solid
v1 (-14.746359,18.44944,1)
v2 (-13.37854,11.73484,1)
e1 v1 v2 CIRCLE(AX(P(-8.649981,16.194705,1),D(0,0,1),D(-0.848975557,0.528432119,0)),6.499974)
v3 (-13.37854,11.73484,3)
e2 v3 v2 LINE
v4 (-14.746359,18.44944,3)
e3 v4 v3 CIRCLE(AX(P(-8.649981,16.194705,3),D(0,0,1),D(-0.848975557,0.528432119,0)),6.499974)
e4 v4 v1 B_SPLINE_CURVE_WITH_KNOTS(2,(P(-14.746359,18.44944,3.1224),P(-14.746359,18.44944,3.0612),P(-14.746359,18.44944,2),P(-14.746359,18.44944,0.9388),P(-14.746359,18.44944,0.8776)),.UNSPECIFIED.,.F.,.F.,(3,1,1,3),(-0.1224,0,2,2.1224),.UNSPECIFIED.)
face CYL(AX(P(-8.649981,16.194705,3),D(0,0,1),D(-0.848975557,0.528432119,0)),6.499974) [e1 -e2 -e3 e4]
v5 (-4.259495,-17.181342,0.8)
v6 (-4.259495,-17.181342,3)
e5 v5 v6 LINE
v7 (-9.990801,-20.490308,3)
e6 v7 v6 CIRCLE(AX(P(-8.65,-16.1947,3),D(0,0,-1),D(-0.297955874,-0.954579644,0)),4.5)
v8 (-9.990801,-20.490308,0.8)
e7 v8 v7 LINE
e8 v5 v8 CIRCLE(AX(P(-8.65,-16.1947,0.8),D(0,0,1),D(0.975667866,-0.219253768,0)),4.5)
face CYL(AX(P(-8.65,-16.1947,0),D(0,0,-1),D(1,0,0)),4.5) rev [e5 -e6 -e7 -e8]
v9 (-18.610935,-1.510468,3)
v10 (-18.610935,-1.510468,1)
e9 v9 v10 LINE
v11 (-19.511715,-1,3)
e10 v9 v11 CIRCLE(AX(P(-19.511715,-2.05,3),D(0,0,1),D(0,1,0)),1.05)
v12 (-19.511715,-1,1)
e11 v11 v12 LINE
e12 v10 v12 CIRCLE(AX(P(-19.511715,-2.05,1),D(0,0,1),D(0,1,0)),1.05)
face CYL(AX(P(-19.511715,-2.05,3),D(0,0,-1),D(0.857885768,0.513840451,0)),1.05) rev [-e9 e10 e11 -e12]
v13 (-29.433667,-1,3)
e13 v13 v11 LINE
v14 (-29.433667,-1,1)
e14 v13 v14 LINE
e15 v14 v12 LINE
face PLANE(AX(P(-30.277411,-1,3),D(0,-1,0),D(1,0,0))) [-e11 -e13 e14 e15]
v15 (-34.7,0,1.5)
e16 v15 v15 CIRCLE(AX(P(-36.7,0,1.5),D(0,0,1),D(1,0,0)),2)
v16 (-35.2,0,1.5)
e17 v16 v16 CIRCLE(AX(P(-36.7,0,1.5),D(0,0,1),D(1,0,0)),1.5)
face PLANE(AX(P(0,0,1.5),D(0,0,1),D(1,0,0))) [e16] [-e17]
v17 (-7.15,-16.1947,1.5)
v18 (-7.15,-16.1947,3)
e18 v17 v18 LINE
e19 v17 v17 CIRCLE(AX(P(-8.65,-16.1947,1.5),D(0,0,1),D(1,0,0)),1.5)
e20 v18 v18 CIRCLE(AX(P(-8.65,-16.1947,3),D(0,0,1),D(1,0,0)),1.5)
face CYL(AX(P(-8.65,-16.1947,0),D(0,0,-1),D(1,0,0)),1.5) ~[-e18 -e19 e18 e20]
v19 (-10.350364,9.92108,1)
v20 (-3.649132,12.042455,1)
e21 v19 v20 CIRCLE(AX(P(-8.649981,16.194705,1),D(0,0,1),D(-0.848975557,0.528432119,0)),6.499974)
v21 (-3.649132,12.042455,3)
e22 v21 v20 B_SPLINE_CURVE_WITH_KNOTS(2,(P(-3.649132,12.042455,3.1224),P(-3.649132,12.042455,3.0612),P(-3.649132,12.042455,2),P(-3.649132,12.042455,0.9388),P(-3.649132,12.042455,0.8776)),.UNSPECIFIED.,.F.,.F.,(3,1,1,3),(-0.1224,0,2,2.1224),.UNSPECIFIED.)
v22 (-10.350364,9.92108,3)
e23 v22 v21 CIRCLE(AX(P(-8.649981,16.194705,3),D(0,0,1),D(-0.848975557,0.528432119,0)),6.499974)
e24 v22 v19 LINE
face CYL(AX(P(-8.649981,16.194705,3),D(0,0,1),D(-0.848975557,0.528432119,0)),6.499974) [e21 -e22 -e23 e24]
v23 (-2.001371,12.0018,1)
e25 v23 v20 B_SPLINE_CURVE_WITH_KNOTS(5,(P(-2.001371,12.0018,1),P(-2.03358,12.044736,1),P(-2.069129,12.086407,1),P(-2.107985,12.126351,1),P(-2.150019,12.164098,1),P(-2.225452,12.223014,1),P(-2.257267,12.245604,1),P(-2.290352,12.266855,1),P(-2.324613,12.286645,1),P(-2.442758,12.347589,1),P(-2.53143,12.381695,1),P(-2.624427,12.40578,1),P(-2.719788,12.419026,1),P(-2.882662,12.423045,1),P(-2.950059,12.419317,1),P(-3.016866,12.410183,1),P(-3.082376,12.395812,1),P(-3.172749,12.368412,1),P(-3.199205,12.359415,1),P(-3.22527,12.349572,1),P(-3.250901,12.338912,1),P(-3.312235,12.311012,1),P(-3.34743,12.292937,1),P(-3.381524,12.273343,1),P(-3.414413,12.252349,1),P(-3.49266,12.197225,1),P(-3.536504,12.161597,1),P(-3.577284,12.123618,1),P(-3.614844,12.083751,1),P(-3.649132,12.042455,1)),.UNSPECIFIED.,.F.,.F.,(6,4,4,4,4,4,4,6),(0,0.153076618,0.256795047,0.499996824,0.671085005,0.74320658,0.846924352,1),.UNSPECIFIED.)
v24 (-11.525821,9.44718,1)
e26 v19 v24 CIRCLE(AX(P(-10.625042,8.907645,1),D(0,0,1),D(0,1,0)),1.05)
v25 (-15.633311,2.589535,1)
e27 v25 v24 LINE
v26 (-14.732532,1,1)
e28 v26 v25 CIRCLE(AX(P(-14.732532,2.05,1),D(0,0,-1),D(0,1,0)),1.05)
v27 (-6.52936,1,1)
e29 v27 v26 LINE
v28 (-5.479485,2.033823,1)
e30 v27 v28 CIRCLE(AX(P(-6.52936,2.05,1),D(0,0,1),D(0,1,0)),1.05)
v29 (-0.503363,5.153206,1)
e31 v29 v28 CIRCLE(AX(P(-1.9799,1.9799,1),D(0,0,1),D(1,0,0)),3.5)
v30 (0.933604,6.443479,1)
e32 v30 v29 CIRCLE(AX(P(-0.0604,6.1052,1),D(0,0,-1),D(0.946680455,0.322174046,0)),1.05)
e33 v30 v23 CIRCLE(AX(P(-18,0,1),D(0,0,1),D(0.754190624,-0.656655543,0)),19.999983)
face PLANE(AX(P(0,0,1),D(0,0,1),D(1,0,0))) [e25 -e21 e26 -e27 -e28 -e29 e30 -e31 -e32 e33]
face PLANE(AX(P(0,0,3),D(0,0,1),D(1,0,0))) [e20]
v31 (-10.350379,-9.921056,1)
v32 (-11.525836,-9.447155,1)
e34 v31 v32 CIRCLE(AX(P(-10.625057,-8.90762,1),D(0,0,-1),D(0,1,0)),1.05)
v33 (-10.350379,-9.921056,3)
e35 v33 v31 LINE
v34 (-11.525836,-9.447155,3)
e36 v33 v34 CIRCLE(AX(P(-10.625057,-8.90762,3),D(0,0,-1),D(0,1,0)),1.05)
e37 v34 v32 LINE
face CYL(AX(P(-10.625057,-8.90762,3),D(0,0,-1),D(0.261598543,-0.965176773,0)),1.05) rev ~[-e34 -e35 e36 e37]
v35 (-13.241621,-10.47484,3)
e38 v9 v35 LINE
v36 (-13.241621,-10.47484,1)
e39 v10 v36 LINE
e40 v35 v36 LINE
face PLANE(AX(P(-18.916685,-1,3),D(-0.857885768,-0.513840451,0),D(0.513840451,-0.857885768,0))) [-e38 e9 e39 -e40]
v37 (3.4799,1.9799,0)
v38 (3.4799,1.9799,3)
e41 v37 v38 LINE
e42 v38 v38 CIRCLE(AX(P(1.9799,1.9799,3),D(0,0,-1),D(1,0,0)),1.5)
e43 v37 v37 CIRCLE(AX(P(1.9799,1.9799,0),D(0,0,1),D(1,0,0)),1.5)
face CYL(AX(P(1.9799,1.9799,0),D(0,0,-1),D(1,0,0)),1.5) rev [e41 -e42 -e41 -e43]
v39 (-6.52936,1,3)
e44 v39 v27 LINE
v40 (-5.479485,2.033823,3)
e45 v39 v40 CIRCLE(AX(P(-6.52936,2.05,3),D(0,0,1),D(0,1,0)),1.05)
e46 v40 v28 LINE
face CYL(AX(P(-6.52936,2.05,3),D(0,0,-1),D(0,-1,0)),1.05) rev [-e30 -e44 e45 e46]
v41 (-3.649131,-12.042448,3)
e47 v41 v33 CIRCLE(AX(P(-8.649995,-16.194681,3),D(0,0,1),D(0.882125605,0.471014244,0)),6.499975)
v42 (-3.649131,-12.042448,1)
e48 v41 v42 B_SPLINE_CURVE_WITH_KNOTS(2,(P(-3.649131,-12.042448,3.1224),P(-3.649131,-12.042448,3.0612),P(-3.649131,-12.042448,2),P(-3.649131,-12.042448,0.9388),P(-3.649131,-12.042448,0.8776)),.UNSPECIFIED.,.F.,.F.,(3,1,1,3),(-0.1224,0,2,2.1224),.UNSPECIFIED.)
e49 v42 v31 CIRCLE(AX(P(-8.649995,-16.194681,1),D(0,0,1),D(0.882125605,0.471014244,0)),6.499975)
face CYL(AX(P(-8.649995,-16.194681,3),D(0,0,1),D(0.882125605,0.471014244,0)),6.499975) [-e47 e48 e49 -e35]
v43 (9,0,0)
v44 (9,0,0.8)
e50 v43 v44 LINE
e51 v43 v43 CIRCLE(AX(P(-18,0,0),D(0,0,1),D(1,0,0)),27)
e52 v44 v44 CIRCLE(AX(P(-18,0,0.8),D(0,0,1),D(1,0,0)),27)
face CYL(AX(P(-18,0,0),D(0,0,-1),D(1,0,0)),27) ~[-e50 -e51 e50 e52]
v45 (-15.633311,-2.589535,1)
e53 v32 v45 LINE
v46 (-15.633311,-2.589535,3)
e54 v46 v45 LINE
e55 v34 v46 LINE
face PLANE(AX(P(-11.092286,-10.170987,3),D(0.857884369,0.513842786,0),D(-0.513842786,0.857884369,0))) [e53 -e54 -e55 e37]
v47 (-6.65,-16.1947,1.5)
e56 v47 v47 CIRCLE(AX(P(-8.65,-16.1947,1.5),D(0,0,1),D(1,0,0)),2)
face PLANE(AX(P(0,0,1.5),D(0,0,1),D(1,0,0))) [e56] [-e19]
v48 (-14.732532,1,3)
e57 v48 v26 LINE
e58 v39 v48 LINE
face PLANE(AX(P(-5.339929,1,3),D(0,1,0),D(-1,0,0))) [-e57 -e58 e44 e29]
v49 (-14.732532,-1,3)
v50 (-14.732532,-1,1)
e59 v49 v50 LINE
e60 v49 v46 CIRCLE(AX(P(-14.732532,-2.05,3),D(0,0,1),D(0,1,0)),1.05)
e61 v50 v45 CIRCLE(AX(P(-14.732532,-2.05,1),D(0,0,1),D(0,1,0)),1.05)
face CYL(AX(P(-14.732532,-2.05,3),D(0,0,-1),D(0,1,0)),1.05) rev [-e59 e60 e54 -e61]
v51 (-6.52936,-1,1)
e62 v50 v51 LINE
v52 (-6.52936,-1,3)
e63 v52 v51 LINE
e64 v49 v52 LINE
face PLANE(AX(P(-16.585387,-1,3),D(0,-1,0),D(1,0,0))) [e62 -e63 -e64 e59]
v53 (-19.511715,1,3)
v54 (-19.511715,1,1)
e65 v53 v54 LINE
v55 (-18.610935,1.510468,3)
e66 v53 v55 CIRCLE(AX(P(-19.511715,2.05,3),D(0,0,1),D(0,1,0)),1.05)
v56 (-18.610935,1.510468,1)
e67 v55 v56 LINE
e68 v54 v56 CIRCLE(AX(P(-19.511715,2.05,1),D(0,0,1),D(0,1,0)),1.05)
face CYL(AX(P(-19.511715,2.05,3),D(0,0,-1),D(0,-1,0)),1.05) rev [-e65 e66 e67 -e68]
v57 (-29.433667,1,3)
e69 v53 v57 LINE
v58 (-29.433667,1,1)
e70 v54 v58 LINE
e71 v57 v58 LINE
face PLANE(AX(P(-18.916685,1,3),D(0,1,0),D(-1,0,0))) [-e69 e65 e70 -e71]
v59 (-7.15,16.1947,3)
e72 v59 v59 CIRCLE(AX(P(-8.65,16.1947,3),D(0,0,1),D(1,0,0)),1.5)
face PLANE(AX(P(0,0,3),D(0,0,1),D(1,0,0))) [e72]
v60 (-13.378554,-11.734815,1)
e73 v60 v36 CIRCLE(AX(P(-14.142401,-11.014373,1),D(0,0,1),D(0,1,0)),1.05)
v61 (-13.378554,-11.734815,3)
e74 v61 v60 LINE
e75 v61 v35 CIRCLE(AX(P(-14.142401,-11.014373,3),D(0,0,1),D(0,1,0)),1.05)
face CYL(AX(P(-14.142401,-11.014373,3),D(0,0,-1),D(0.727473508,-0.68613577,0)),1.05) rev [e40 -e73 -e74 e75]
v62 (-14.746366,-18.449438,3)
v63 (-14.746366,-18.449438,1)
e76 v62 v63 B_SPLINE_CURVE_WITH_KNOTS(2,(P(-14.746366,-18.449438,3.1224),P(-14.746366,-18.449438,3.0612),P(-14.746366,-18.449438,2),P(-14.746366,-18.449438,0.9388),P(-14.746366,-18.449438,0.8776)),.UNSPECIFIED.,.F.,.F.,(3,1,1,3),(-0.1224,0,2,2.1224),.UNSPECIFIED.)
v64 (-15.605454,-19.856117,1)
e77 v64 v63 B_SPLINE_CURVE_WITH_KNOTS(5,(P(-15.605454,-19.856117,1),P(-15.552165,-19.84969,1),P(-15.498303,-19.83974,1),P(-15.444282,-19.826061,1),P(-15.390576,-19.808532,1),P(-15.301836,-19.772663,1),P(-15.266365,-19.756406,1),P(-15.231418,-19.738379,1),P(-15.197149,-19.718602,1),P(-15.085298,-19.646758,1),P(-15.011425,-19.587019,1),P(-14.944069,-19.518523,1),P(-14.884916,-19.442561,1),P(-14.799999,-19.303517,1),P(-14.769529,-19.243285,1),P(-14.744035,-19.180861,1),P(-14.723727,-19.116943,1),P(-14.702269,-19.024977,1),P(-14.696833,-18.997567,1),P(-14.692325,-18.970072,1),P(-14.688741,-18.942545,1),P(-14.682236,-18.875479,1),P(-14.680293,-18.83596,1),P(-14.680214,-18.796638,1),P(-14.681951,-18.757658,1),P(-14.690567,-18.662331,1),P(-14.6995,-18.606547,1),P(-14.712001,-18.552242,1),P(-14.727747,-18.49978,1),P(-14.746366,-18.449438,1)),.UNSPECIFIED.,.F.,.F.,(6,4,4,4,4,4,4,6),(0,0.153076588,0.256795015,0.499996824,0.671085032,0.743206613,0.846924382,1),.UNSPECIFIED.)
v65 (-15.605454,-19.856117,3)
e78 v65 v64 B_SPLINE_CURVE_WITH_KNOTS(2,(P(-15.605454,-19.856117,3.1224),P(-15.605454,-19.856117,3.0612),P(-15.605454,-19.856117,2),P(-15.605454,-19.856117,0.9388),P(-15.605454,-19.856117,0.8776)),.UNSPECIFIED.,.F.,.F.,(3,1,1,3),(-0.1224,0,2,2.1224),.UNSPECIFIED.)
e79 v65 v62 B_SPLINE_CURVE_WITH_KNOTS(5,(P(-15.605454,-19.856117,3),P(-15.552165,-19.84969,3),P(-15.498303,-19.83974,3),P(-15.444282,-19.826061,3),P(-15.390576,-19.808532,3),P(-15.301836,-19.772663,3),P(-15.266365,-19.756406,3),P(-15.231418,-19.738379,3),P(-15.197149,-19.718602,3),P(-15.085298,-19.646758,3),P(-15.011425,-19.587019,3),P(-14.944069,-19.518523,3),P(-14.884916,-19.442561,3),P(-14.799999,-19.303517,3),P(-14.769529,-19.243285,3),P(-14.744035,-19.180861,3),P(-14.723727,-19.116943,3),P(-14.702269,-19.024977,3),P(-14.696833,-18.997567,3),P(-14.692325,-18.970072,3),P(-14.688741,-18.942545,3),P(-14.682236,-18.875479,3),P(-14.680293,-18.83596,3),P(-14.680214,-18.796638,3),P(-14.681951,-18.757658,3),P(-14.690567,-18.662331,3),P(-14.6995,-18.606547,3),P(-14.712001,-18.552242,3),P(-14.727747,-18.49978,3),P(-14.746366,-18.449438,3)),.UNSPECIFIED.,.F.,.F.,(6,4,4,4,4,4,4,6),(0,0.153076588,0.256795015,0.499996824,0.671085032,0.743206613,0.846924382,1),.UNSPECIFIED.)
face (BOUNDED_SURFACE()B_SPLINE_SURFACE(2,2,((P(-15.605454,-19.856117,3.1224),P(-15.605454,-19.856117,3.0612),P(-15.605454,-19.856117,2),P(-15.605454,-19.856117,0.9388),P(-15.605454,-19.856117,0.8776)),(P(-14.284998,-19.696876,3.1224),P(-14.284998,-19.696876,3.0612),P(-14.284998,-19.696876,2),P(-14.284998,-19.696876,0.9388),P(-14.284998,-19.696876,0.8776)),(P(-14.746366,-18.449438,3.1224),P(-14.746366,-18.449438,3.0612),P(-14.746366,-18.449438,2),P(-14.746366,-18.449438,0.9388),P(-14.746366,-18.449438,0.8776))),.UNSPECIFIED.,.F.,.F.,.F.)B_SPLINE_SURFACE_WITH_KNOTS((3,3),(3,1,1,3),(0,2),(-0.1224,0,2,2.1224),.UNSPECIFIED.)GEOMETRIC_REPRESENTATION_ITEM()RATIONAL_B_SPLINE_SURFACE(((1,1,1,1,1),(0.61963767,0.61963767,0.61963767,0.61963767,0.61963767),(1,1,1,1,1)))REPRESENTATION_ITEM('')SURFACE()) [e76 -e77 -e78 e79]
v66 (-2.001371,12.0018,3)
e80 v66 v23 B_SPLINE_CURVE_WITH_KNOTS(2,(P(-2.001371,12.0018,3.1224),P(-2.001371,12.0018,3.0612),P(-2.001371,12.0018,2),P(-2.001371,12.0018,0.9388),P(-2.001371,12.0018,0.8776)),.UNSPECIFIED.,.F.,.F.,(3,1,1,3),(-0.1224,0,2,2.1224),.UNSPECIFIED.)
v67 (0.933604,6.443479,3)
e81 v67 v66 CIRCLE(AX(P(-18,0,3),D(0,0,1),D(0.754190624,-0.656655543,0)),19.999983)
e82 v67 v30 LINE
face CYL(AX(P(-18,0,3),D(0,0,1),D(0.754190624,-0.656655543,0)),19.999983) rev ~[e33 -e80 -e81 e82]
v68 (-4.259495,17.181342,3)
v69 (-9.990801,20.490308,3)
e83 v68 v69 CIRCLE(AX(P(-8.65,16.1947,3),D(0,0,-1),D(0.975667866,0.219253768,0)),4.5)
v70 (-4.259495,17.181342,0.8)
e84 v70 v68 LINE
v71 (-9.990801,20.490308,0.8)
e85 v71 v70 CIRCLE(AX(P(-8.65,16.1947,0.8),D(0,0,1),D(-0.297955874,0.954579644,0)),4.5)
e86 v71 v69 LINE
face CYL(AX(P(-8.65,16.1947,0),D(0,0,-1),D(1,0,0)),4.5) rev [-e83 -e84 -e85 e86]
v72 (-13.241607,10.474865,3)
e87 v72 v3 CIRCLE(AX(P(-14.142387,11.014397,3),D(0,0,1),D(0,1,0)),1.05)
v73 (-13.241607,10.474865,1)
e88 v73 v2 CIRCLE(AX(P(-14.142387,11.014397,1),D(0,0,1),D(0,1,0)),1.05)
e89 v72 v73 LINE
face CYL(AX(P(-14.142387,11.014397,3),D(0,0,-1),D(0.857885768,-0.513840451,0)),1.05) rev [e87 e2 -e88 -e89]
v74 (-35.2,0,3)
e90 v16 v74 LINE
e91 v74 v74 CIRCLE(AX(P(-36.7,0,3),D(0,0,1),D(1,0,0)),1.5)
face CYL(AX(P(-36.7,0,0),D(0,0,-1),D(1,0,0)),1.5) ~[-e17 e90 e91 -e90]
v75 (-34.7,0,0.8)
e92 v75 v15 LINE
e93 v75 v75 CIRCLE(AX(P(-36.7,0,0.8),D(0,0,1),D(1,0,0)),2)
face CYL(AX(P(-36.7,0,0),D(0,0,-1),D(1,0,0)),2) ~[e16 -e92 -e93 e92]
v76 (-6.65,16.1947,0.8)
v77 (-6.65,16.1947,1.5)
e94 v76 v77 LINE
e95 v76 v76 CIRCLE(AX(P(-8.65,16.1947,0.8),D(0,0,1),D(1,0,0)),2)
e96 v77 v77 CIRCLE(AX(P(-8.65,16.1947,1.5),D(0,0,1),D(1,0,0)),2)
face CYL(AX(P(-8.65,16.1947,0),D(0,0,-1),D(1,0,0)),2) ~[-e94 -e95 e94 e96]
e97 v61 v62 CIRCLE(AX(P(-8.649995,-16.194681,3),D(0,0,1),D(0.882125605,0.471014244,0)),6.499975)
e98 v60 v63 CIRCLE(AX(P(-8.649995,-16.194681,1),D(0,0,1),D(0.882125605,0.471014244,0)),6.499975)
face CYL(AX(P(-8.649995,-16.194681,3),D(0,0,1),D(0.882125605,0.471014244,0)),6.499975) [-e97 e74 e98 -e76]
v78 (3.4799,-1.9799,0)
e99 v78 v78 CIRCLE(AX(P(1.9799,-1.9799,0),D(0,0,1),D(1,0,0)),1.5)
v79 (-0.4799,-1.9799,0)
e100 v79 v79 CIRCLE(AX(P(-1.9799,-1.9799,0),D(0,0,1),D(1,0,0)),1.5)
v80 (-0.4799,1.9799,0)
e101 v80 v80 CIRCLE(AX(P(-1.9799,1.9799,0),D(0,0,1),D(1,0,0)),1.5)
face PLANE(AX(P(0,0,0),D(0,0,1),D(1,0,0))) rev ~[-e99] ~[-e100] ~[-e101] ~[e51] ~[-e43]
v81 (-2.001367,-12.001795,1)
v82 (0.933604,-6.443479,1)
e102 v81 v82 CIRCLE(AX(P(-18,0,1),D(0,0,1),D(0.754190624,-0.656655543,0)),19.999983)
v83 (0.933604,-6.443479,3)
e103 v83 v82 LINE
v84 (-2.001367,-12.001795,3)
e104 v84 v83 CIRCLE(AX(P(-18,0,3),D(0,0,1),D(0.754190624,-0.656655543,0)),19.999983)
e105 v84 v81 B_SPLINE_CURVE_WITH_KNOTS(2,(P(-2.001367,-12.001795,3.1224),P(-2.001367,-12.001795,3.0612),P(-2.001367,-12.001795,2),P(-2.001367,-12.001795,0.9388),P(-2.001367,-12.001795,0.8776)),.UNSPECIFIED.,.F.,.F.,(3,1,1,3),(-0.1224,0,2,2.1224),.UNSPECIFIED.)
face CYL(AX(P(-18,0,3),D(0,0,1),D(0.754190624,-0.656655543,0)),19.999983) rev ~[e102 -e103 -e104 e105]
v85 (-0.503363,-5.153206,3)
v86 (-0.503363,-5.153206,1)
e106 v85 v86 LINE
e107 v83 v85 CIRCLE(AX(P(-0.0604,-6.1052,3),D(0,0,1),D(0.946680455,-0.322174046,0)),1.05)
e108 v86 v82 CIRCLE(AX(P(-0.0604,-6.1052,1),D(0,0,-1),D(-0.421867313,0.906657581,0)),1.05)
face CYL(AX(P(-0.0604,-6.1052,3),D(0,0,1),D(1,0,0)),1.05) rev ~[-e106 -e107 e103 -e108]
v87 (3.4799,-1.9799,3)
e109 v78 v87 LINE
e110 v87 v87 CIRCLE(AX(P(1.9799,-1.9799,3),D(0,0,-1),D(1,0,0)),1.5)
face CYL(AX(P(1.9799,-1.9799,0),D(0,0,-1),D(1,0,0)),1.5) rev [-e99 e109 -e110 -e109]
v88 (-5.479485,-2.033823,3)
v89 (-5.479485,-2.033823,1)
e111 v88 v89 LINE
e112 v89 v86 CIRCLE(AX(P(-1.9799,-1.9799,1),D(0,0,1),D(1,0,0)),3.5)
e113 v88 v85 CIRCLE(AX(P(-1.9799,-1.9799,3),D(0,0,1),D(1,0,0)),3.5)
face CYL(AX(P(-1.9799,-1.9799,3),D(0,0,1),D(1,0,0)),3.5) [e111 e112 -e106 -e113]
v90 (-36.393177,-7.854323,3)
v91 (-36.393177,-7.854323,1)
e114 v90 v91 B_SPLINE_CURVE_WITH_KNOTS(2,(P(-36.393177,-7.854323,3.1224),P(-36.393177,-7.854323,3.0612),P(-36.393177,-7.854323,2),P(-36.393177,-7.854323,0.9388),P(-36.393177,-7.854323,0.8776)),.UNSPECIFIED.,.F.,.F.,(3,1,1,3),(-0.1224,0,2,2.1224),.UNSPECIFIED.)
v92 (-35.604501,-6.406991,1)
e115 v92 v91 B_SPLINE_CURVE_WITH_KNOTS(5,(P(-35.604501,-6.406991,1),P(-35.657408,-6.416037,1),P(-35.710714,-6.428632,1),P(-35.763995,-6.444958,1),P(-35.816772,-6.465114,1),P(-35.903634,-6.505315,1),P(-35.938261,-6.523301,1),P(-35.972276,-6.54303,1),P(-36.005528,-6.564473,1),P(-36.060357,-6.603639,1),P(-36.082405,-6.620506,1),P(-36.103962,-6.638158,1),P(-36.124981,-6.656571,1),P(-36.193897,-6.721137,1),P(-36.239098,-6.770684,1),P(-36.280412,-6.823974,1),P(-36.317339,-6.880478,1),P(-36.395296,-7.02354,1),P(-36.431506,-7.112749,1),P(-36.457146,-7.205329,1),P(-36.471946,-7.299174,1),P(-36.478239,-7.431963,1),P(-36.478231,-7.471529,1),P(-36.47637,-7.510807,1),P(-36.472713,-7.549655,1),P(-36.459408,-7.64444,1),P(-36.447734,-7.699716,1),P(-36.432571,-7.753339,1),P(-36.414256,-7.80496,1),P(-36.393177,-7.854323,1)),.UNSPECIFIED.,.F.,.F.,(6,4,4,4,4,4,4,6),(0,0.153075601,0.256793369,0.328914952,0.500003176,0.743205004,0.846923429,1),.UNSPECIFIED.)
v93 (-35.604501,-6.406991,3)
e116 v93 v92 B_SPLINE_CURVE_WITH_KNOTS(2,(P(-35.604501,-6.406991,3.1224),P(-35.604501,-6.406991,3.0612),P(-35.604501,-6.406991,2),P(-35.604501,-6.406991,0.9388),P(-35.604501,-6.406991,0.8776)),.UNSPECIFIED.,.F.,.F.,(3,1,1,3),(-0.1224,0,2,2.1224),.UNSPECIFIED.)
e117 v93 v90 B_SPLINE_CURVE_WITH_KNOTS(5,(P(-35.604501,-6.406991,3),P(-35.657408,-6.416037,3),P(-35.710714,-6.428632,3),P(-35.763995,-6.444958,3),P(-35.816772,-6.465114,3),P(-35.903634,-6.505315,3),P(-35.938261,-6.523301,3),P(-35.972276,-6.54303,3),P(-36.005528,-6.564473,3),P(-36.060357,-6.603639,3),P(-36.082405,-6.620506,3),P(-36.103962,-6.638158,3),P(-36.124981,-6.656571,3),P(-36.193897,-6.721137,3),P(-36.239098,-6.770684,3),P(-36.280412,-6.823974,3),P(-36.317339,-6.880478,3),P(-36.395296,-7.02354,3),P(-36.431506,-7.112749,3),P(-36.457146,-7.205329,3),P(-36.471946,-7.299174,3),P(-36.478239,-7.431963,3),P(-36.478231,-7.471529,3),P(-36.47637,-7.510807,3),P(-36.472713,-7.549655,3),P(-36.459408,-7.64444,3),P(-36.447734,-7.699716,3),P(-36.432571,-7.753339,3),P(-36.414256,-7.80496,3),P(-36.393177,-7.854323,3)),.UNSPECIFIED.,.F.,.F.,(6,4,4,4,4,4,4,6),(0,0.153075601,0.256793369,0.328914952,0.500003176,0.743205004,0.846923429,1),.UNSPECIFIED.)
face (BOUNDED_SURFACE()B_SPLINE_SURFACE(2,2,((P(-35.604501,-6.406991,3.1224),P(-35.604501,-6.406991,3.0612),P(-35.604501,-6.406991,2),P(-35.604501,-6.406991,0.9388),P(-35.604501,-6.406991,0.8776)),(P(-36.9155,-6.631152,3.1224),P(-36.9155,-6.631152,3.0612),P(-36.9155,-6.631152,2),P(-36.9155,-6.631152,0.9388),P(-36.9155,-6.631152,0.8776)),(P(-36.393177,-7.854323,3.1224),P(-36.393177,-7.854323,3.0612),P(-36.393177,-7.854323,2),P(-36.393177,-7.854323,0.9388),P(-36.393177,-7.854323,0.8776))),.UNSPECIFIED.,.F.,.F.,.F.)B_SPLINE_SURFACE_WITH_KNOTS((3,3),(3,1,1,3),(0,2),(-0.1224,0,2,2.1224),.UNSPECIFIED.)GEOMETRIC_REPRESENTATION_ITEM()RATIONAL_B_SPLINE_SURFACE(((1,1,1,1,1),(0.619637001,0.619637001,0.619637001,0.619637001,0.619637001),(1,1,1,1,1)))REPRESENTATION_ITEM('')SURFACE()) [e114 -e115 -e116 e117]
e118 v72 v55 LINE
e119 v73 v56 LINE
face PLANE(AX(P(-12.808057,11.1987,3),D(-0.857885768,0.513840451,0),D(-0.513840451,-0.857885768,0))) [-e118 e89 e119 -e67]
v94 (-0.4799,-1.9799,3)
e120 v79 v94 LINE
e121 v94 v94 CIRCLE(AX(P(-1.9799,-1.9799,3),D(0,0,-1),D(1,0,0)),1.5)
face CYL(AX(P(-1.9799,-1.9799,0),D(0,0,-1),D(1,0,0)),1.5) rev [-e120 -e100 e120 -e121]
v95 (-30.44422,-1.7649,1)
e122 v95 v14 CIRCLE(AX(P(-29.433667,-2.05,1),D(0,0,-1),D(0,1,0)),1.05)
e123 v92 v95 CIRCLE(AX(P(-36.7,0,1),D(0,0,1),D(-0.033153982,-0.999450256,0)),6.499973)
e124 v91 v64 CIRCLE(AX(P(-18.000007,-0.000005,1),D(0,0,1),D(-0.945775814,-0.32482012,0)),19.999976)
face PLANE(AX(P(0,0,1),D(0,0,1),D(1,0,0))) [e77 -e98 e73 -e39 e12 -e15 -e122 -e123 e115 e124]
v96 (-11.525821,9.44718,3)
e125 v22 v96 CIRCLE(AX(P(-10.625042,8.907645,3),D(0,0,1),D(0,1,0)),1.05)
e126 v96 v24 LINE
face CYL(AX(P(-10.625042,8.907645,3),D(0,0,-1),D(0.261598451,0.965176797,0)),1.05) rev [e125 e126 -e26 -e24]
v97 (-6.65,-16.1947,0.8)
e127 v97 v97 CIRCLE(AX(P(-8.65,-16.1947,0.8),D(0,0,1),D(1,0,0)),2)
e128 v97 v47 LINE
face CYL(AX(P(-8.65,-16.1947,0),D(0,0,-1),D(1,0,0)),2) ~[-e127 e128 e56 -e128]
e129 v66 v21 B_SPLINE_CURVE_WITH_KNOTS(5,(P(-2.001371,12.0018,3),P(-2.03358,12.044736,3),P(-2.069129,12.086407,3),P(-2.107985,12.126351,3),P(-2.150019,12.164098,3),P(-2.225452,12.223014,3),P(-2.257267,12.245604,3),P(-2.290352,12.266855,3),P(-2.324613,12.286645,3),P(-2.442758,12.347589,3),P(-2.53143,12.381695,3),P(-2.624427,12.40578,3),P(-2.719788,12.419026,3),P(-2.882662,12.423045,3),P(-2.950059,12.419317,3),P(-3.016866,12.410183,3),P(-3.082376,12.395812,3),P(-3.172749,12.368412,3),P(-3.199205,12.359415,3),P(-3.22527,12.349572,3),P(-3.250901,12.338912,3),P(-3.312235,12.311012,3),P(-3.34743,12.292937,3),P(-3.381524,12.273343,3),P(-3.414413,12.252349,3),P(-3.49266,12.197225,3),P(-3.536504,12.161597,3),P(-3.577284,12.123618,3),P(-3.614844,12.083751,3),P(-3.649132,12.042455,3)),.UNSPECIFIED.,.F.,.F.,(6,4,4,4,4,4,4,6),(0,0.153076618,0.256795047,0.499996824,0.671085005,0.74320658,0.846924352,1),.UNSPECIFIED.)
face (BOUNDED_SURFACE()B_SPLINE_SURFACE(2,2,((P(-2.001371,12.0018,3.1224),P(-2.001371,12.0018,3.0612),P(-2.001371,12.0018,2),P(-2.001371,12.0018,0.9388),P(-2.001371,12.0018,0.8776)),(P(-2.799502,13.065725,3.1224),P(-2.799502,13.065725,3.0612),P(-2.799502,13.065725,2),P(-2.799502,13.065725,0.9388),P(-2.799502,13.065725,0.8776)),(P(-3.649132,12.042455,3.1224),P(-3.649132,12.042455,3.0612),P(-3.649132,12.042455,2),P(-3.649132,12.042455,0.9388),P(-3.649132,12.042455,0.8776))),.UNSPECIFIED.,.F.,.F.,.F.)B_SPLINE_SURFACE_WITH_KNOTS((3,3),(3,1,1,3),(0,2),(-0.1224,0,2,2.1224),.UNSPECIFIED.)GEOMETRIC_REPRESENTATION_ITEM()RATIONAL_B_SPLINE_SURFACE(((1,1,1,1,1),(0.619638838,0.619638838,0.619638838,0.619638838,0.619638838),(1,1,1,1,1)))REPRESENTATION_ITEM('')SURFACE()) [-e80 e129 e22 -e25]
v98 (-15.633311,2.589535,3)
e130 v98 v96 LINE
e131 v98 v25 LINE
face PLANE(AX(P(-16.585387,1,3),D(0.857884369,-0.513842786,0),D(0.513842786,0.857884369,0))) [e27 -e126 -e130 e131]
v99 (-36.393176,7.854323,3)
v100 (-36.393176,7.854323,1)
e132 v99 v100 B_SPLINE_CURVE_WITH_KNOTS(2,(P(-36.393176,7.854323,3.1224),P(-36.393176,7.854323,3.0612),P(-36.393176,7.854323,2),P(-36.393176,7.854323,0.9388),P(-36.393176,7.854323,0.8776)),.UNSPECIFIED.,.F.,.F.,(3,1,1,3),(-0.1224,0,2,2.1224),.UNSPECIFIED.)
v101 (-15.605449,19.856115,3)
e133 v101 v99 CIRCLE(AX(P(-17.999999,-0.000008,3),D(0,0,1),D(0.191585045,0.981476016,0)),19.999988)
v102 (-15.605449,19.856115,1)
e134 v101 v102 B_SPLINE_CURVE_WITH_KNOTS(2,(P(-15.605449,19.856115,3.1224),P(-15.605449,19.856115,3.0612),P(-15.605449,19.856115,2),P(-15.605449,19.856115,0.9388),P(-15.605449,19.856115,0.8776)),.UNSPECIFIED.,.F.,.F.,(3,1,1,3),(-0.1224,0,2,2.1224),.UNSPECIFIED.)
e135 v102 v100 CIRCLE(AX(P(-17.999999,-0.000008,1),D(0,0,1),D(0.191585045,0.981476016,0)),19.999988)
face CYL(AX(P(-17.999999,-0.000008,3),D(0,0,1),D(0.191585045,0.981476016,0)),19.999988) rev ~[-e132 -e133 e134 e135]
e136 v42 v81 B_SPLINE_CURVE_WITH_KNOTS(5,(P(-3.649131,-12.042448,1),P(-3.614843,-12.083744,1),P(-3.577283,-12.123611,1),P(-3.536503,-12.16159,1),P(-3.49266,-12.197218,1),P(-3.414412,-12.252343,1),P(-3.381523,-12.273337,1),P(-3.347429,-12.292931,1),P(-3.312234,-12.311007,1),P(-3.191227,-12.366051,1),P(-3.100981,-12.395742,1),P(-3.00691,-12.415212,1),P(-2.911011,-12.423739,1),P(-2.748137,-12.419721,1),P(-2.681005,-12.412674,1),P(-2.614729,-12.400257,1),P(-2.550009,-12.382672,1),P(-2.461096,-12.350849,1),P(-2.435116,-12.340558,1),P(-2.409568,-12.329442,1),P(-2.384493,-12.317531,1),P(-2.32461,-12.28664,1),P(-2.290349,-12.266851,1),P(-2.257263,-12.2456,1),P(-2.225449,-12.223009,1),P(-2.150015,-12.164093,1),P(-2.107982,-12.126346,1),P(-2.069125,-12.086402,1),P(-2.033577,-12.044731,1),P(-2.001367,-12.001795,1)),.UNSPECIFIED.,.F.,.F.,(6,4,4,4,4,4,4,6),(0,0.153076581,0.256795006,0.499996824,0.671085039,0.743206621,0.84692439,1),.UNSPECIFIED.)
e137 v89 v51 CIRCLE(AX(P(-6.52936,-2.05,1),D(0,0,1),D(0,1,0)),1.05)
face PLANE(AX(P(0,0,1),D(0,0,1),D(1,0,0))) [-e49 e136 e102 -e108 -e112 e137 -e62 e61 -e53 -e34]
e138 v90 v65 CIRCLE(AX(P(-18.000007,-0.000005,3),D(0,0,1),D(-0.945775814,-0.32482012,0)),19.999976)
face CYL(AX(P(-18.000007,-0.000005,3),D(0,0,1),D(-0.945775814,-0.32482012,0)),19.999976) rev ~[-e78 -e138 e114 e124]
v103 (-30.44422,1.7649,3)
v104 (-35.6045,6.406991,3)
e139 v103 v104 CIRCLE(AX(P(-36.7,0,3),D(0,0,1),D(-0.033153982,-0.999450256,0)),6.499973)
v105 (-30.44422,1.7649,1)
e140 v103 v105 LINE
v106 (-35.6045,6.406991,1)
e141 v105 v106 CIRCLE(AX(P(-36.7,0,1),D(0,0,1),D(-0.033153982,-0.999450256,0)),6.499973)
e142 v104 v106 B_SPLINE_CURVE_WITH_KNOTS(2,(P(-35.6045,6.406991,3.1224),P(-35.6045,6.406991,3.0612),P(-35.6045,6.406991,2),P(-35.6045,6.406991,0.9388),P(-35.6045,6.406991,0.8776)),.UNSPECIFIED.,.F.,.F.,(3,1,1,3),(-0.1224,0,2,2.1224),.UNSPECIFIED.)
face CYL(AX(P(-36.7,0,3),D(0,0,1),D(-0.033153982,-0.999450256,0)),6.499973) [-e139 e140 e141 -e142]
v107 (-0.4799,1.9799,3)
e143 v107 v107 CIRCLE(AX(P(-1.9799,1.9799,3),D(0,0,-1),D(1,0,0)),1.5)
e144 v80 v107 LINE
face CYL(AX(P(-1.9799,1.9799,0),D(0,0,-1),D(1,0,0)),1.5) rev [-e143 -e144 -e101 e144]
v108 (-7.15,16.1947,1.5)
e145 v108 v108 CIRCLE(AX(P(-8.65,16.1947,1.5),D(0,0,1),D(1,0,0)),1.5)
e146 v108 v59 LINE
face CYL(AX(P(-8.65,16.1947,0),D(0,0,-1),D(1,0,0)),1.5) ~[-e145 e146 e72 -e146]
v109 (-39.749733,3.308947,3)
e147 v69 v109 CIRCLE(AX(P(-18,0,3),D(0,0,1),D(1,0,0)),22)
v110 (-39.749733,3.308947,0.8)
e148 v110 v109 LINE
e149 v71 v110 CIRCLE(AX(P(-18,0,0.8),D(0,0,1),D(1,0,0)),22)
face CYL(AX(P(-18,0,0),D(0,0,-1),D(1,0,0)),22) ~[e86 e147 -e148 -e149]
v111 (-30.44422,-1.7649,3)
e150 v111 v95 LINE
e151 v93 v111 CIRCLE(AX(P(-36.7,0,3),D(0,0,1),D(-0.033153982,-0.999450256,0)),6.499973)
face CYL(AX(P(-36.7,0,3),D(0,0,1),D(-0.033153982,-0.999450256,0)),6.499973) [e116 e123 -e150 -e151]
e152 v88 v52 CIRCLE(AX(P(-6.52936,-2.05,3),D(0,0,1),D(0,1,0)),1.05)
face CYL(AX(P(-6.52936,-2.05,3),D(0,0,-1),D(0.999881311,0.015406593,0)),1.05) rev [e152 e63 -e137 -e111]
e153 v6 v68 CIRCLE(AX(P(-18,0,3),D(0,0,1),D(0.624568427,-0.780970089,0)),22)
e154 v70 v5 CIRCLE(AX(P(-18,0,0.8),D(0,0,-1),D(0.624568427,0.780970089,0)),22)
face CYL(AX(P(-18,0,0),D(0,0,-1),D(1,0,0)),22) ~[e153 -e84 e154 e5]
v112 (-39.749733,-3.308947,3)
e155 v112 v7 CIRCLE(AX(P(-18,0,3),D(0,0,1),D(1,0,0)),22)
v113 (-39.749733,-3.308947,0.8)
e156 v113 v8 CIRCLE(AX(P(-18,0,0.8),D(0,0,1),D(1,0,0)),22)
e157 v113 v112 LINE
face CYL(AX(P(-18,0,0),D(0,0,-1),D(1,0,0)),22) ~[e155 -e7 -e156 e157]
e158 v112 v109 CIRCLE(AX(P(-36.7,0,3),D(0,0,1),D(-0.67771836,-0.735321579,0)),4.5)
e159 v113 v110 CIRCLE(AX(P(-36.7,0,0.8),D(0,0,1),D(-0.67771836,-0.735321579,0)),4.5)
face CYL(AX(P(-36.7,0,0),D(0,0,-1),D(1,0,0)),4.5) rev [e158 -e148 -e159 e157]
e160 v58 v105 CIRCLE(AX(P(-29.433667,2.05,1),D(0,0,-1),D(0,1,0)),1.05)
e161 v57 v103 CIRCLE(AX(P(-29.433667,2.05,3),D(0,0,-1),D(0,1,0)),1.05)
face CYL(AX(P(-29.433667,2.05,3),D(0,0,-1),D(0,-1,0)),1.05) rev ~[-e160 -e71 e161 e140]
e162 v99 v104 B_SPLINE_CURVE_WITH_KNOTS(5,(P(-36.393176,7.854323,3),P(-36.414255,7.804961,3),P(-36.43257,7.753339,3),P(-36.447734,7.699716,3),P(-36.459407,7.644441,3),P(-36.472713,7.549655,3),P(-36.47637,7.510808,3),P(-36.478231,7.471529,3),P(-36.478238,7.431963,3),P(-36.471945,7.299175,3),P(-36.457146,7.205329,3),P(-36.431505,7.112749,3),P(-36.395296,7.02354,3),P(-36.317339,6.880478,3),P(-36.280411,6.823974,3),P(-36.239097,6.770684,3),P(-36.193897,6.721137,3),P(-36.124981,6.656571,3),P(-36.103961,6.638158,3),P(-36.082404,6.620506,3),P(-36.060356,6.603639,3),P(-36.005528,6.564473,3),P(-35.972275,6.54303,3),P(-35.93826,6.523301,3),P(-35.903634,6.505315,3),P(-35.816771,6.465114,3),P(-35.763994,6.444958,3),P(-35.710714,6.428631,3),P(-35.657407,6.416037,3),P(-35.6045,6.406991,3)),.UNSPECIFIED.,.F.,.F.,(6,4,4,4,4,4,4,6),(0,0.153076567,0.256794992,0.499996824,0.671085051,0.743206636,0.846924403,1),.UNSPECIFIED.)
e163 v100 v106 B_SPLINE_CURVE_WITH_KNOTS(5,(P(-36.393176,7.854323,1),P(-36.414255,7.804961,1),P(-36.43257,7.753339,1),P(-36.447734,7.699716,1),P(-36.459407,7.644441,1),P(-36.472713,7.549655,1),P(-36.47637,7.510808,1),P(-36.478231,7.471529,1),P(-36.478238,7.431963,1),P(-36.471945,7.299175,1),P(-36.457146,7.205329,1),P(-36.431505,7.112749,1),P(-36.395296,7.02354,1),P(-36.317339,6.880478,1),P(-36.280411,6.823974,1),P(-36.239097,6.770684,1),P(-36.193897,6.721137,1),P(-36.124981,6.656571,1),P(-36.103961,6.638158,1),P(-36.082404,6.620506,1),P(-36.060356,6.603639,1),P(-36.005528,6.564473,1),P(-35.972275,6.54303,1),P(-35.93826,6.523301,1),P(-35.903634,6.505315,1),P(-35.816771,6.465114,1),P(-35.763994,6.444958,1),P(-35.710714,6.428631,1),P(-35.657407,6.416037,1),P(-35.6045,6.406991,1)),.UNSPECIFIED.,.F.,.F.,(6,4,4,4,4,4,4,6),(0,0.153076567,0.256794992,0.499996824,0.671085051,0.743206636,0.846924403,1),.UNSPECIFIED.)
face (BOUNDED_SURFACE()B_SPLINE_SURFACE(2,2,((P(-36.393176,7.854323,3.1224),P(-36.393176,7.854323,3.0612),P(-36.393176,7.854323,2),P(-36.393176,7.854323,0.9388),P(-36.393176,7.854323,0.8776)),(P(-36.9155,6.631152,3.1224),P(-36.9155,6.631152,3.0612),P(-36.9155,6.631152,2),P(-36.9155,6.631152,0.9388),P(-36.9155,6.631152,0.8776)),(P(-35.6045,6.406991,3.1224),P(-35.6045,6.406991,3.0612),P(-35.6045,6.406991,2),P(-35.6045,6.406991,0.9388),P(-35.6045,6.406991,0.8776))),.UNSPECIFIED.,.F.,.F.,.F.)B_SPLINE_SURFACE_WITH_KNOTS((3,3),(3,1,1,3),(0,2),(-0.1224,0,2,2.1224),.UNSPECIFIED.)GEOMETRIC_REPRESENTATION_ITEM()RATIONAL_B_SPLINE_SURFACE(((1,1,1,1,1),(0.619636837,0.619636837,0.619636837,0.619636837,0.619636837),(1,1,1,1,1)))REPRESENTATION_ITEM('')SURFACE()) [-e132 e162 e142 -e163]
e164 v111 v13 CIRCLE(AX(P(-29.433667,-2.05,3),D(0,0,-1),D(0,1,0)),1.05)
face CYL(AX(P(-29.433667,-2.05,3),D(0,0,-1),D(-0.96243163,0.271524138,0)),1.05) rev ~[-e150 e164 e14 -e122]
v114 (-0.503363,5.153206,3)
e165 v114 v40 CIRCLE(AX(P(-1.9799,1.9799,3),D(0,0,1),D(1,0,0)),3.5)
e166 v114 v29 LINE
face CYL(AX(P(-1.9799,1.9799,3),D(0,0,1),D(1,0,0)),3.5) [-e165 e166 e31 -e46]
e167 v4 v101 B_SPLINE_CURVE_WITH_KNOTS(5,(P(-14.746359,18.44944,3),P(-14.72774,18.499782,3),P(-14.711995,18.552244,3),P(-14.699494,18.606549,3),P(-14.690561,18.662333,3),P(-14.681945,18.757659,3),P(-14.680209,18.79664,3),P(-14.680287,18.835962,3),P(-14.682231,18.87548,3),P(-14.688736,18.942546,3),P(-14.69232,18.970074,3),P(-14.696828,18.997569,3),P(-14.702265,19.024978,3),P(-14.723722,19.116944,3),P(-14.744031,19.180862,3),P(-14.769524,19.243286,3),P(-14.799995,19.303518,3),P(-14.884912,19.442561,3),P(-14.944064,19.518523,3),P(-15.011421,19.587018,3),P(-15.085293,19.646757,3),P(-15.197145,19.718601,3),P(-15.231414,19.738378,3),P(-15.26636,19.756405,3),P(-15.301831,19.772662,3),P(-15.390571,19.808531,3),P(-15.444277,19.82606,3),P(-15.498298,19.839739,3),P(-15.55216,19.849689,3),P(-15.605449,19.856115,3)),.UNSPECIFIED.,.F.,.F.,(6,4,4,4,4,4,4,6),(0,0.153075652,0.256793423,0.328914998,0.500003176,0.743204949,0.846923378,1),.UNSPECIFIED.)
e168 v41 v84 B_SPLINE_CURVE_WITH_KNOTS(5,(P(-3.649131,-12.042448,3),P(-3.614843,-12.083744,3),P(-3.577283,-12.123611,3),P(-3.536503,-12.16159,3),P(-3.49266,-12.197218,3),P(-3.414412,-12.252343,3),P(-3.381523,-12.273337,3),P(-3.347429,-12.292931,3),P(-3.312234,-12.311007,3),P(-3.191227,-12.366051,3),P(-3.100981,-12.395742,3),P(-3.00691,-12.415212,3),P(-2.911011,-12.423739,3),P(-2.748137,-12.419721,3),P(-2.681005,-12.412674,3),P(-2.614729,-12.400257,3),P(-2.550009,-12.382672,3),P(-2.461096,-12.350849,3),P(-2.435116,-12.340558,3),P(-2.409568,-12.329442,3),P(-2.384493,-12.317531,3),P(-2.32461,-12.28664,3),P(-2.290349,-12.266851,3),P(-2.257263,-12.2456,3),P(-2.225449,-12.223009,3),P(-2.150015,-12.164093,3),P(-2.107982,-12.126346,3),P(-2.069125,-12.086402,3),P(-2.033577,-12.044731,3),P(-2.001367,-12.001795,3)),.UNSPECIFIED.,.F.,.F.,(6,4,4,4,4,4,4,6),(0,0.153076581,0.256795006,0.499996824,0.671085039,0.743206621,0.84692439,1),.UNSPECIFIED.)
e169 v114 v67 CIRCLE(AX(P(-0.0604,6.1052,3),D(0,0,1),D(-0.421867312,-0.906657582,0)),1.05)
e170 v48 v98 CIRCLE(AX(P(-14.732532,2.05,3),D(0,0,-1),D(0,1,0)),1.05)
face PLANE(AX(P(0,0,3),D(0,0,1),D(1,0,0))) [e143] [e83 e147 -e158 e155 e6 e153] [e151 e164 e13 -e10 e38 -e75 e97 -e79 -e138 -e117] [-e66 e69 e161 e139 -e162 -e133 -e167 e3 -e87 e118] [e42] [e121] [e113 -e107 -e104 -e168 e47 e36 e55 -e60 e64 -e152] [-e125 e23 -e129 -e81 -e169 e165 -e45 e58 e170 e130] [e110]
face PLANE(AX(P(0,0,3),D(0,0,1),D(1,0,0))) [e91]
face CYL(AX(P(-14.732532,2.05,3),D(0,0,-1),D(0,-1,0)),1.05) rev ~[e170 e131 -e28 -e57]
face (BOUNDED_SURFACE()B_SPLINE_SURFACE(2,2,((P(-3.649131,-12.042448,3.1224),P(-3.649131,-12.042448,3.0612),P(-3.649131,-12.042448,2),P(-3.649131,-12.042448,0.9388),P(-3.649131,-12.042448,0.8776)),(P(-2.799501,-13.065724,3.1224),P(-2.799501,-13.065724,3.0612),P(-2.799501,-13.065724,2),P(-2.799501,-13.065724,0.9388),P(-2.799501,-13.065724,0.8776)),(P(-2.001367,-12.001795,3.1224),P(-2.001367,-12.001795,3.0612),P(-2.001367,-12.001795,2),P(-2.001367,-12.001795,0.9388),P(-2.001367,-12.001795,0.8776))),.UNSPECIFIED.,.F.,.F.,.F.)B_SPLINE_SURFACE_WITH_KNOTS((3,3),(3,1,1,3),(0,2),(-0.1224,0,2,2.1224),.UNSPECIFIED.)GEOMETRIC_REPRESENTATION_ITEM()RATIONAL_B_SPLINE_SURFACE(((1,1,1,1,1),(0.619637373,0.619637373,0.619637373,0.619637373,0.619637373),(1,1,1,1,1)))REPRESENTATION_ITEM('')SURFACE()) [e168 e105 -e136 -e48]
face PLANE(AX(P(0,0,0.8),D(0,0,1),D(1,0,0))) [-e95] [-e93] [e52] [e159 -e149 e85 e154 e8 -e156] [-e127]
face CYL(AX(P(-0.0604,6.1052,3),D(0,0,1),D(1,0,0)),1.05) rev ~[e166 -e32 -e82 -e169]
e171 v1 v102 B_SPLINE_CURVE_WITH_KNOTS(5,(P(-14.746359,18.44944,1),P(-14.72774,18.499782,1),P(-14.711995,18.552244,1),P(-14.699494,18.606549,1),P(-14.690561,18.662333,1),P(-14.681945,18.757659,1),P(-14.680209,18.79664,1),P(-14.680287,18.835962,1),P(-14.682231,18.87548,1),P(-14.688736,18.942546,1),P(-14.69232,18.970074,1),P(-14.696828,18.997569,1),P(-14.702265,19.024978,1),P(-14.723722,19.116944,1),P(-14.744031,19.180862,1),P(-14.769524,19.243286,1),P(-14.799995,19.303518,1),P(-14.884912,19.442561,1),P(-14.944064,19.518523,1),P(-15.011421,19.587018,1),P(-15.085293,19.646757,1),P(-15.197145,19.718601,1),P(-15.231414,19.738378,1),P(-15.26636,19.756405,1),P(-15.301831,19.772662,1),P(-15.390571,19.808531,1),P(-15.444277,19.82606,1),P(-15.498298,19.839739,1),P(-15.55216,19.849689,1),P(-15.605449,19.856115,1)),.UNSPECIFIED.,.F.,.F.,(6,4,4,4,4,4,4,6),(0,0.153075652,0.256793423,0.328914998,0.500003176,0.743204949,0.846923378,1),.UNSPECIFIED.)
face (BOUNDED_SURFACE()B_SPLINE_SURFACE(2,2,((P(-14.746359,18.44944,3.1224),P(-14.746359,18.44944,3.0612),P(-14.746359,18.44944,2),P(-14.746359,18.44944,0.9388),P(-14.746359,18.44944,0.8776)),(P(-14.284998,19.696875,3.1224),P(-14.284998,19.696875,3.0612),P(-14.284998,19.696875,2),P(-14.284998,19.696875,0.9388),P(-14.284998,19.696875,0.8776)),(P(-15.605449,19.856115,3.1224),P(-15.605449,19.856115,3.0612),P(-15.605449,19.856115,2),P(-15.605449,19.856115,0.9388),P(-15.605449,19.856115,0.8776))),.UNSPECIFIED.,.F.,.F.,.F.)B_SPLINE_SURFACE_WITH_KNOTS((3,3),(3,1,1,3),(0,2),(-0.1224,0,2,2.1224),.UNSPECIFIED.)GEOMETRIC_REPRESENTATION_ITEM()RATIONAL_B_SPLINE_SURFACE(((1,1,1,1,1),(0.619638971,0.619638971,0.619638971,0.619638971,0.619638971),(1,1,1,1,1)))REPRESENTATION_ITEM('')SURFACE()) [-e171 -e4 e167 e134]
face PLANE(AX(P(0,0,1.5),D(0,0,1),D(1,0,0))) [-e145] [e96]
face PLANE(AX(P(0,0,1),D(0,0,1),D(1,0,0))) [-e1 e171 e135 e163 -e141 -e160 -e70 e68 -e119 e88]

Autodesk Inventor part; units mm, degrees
ref_plane "YZ Plane" through (0, 0, 0) normal (1, 0, 0) x (0, 1, 0)
ref_plane "XZ Plane" through (0, 0, 0) normal (0, 1, 0) x (-1, 0, 0)
ref_plane "XY Plane" through (0, 0, 0) normal (0, 0, 1) x (1, 0, 0)
sketch "スケッチ1" plane through (0, 0, 0) normal (0, 0, 1) x (1, 0, 0)
  circle A0 centre (-18, 0) radius 27
  line L0 (0, 0) -> (-18, 0) construction
  circle A1 centre (-36.7, 0) radius 1.5
  circle A2 centre (-36.7, 0) radius 4 construction
  circle A3 centre (-36.7, 0) radius 4.5
  circle A4 centre (-8.65, -16.1947) radius 4.5
  circle A5 centre (-8.65, -16.1947) radius 4 construction
  circle A6 centre (-8.65, -16.1947) radius 1.5
  circle A7 centre (-8.65, 16.1947) radius 4.5
  circle A8 centre (-8.65, 16.1947) radius 4 construction
  circle A9 centre (-8.65, 16.1947) radius 1.5
  circle A10 centre (-18, 0) radius 22
  line L1 (-36.7, 0) -> (-18, 0) construction
  circle A11 centre (-18, 0) radius 22.7 construction
  circle A12 centre (-36.7, 0) radius 2
  circle A13 centre (-8.65, -16.1947) radius 2
  circle A14 centre (-8.65, 16.1947) radius 2
  circle A15 centre (-1.9799, 1.9799) radius 2.8
  circle A16 centre (-1.9799, 1.9799) radius 1.5
  circle A17 centre (-1.9799, -1.9799) radius 1.5
  circle A18 centre (-1.9799, -1.9799) radius 2.8
  circle A19 centre (1.9799, -1.9799) radius 1.5
  circle A20 centre (1.9799, -1.9799) radius 2.8
  circle A21 centre (1.9799, 1.9799) radius 1.5
  circle A22 centre (1.9799, 1.9799) radius 2.8
  line L2 (0, 0) -> (-1.9799, 1.9799)
  point P0 (-1.5877, 1.6905)
  point P1 (-5.0591, 12.5113)
  point P2 (1.2886, 2.8639)
  point P3 (1.2886, -2.8639)
  point P4 (-5.0591, -12.5113)
  point P5 (-13.6354, -17.4628)
  point P6 (-35.3056, -4.9515)
  point P7 (-35.3056, 4.9515)
  point P8 (-13.6354, 17.4628)
  point P9 (0.5827, -2.75)
  point P10 (-4.16, 16.8432)
  point P11 (-4.16, -16.8432)
  point P12 (-10.3333, -20.4074)
  point P13 (-39.5067, -3.5642)
  point P14 (-39.5067, 3.5642)
  point P15 (-10.3333, 20.4074)
  point P16 (-0.2113, 2.75)
  point P17 (-35.9375, 1.4987)
  point P18 (-35.9375, -1.4987)
  point P19 (-7.7333, -14.785)
  point P20 (-10.3292, -16.2837)
  point P21 (-10.3292, 16.2837)
  point P22 (-7.7333, 14.785)
  point P23 (4, 0.041)
  point P24 (4, -0.041)
  point P25 (3.5801, -4.2776)
  point P26 (-4.2595, -17.1813)
  point P27 (-9.9908, -20.4903)
  point P28 (-39.7497, -3.3089)
  point P29 (-39.7497, 3.3089)
  point P30 (-9.9908, 20.4903)
  point P31 (-4.2595, 17.1813)
  point P32 (3.5801, 4.2776)
  dimension "d10" = 54
  dimension "d13" = 3
  dimension "d14" = 8
  dimension "d15" = 9
  dimension "d16" = 360
  dimension "d19" = 5
  dimension "d23" = 4
  dimension "d24" = 360
  dimension "d25" = 5.6
  dimension "d26" = 3
  dimension "d30" = 360
  dimension "d46" = 45
  dimension "d47" = 18
  dimension "d49" = 44
  dimension "d50" = 18.7
  dimension "d53" = 0.7
extrude "押し出し1" add sketch "スケッチ1" along normal blind 0.8 contours A0 | A3 A10 | A10 A3 | A10 A7 | A7 A10 | A10 A4 | A4 A10 | A22 A10 | A10 A20
extrude "押し出し2" add sketch "スケッチ1" along normal blind 1.5 contours A12 | A13 | A14
extrude "押し出し3" add sketch "スケッチ1" along normal blind 3 contours A1 | A3 A10 A7 A22 A15 A18 A20 A4 | A10 A22 A20 A21 A15 | A20 A18 A19 A22 A10 | A10 A20 A22 | A22 A16 A18 A15 | A15 A21 A22 A16 | A20 A17 A18 A19 | A18 A15 A17 A20 | A22 A19 A20 A21 | A18 A16 A15 A17 | A21 A20 A15 | A22 L2 A16 | A18 A22 A19 | A17 A15 A20 | A18 A16 L2 | A6 | A9 picked at (0.5491, 0.5309) picked at (0.5491, -0.5309) picked at (-0.5491, -0.5309)
sketch "スケッチ2" plane through (0, 0, 3) normal (0, 0, 1) x (1, 0, 0)
  arc A0 (-39.7497, -3.3089) -> (-39.7497, 3.3089) centre (-36.7, 0) ccw projected
  arc A1 (-39.7497, -3.3089) -> (-9.9908, -20.4903) centre (-18, 0) ccw projected
  arc A2 (-4.2595, -17.1813) -> (-9.9908, -20.4903) centre (-8.65, -16.1947) ccw projected
  arc A3 (-4.2595, -17.1813) -> (-4.2595, 17.1813) centre (-18, 0) ccw projected
  arc A4 (-9.9908, 20.4903) -> (-4.2595, 17.1813) centre (-8.65, 16.1947) ccw projected
  arc A5 (-9.9908, 20.4903) -> (-39.7497, 3.3089) centre (-18, 0) ccw projected
  circle A6 centre (1.9799, 1.9799) radius 1.5 projected
  circle A7 centre (-1.9799, -1.9799) radius 1.5 projected
  circle A8 centre (-1.9799, 1.9799) radius 1.5 projected
  circle A9 centre (1.9799, -1.9799) radius 1.5 projected
  arc A10 (-36.9155, -6.4964) -> (-36.9155, 6.4964) centre (-36.7, 0) ccw
  arc A11 (-36.9155, -6.4964) -> (-14.1683, -19.6295) centre (-18, 0) ccw
  arc A12 (-2.9162, -13.1331) -> (-14.1683, -19.6295) centre (-8.65, -16.1947) ccw
  arc A13 (-2.9162, -13.1331) -> (-2.9162, 13.1331) centre (-18, 0) ccw
  arc A14 (-14.1683, 19.6295) -> (-2.9162, 13.1331) centre (-8.65, 16.1947) ccw
  arc A15 (-14.1683, 19.6295) -> (-36.9155, 6.4964) centre (-18, 0) ccw
  circle A16 centre (-1.9799, 1.9799) radius 3.5
  circle A17 centre (-1.9799, -1.9799) radius 3.5
  line L0 (-36.7, 0) -> (0, 0) construction
  line L1 (-36.7, -1) -> (0, -1)
  line L2 (0, 1) -> (-36.7, 1)
  arc A18 (-36.7, 1) -> (-36.7, -1) centre (-36.7, 0) ccw
  arc A19 (0, -1) -> (0, 1) centre (0, 0) ccw
  line L3 (-8.65, 16.1947) -> (-18.35, 0) construction
  line L4 (-9.5079, 16.7085) -> (-19.2079, 0.5138)
  line L5 (-17.4921, -0.5138) -> (-7.7921, 15.6808)
  arc A20 (-7.7921, 15.6808) -> (-9.5079, 16.7085) centre (-8.65, 16.1947) ccw
  arc A21 (-19.2079, 0.5138) -> (-17.4921, -0.5138) centre (-18.35, 0) ccw
  line L6 (-18.35, 0) -> (-8.65, -16.1947) construction
  line L7 (-19.2079, -0.5138) -> (-9.5079, -16.7085)
  line L8 (-7.7921, -15.6808) -> (-17.4921, 0.5138)
  arc A22 (-17.4921, 0.5138) -> (-19.2079, -0.5138) centre (-18.35, 0) ccw
  arc A23 (-9.5079, -16.7085) -> (-7.7921, -15.6808) centre (-8.65, -16.1947) ccw
  circle A24 centre (-0.0604, 6.1052) radius 1.05
  circle A25 centre (-0.0604, -6.1052) radius 1.05
  point P0 (-13.5, 8.0973)
  point P1 (-13.5, -8.0973)
  point P2 (0.9336, -6.4435)
  point P3 (-0.5034, -5.1532)
  point P4 (-5.3399, -1)
  point P5 (-16.5854, -1)
  point P6 (-11.0923, -10.171)
  point P7 (-0.5034, 5.1532)
  point P8 (0.9336, 6.4435)
  point P9 (-11.0923, 10.171)
  point P10 (-16.5854, 1)
  point P11 (-5.3399, 1)
  point P12 (-12.8081, -11.1986)
  point P13 (-18.9167, -1)
  point P14 (-30.2774, -1)
  point P15 (-30.2774, 1)
  point P16 (-18.9167, 1)
  point P17 (-12.8081, 11.1986)
  dimension "d58" = 2
  dimension "d59" = 2
  dimension "d60" = 2
  dimension "d61" = 2
  dimension "d62" = 2
  dimension "d63" = 2
  dimension "d64" = 2.1
  dimension "d65" = 2.1
extrude "押し出し4" cut sketch "スケッチ2" against normal blind 2 contours L1 L7 A12 A11 A10 | A10 A15 A14 L4 L2 | L8 L1 A17 A25 A13 A12 | L5 A14 A13 A24 A16 L2 | A25 | A24
fillet "フィレット1" radius 1.05 18 edges at (-30.2774, 1, 2) (-36.9155, 6.4964, 2) (-14.1683, 19.6295, 2) (-12.8081, 11.1986, 2) (-18.9167, 1, 2) (-18.9167, -1, 2) (-30.2774, -1, 2) (-36.9155, -6.4964, 2) (-14.1683, -19.6295, 2) (-12.8081, -11.1986, 2) (-2.9162, -13.1331, 2) (-11.0923, -10.171, 2) (-16.5854, -1, 2) (-5.3399, 1, 2) (-5.3399, -1, 2) (-11.0923, 10.171, 2) (-2.9162, 13.1331, 2) (-16.5854, 1, 2)
properties part number "クランク3t" material "ポリカーボネート、スモーク"
